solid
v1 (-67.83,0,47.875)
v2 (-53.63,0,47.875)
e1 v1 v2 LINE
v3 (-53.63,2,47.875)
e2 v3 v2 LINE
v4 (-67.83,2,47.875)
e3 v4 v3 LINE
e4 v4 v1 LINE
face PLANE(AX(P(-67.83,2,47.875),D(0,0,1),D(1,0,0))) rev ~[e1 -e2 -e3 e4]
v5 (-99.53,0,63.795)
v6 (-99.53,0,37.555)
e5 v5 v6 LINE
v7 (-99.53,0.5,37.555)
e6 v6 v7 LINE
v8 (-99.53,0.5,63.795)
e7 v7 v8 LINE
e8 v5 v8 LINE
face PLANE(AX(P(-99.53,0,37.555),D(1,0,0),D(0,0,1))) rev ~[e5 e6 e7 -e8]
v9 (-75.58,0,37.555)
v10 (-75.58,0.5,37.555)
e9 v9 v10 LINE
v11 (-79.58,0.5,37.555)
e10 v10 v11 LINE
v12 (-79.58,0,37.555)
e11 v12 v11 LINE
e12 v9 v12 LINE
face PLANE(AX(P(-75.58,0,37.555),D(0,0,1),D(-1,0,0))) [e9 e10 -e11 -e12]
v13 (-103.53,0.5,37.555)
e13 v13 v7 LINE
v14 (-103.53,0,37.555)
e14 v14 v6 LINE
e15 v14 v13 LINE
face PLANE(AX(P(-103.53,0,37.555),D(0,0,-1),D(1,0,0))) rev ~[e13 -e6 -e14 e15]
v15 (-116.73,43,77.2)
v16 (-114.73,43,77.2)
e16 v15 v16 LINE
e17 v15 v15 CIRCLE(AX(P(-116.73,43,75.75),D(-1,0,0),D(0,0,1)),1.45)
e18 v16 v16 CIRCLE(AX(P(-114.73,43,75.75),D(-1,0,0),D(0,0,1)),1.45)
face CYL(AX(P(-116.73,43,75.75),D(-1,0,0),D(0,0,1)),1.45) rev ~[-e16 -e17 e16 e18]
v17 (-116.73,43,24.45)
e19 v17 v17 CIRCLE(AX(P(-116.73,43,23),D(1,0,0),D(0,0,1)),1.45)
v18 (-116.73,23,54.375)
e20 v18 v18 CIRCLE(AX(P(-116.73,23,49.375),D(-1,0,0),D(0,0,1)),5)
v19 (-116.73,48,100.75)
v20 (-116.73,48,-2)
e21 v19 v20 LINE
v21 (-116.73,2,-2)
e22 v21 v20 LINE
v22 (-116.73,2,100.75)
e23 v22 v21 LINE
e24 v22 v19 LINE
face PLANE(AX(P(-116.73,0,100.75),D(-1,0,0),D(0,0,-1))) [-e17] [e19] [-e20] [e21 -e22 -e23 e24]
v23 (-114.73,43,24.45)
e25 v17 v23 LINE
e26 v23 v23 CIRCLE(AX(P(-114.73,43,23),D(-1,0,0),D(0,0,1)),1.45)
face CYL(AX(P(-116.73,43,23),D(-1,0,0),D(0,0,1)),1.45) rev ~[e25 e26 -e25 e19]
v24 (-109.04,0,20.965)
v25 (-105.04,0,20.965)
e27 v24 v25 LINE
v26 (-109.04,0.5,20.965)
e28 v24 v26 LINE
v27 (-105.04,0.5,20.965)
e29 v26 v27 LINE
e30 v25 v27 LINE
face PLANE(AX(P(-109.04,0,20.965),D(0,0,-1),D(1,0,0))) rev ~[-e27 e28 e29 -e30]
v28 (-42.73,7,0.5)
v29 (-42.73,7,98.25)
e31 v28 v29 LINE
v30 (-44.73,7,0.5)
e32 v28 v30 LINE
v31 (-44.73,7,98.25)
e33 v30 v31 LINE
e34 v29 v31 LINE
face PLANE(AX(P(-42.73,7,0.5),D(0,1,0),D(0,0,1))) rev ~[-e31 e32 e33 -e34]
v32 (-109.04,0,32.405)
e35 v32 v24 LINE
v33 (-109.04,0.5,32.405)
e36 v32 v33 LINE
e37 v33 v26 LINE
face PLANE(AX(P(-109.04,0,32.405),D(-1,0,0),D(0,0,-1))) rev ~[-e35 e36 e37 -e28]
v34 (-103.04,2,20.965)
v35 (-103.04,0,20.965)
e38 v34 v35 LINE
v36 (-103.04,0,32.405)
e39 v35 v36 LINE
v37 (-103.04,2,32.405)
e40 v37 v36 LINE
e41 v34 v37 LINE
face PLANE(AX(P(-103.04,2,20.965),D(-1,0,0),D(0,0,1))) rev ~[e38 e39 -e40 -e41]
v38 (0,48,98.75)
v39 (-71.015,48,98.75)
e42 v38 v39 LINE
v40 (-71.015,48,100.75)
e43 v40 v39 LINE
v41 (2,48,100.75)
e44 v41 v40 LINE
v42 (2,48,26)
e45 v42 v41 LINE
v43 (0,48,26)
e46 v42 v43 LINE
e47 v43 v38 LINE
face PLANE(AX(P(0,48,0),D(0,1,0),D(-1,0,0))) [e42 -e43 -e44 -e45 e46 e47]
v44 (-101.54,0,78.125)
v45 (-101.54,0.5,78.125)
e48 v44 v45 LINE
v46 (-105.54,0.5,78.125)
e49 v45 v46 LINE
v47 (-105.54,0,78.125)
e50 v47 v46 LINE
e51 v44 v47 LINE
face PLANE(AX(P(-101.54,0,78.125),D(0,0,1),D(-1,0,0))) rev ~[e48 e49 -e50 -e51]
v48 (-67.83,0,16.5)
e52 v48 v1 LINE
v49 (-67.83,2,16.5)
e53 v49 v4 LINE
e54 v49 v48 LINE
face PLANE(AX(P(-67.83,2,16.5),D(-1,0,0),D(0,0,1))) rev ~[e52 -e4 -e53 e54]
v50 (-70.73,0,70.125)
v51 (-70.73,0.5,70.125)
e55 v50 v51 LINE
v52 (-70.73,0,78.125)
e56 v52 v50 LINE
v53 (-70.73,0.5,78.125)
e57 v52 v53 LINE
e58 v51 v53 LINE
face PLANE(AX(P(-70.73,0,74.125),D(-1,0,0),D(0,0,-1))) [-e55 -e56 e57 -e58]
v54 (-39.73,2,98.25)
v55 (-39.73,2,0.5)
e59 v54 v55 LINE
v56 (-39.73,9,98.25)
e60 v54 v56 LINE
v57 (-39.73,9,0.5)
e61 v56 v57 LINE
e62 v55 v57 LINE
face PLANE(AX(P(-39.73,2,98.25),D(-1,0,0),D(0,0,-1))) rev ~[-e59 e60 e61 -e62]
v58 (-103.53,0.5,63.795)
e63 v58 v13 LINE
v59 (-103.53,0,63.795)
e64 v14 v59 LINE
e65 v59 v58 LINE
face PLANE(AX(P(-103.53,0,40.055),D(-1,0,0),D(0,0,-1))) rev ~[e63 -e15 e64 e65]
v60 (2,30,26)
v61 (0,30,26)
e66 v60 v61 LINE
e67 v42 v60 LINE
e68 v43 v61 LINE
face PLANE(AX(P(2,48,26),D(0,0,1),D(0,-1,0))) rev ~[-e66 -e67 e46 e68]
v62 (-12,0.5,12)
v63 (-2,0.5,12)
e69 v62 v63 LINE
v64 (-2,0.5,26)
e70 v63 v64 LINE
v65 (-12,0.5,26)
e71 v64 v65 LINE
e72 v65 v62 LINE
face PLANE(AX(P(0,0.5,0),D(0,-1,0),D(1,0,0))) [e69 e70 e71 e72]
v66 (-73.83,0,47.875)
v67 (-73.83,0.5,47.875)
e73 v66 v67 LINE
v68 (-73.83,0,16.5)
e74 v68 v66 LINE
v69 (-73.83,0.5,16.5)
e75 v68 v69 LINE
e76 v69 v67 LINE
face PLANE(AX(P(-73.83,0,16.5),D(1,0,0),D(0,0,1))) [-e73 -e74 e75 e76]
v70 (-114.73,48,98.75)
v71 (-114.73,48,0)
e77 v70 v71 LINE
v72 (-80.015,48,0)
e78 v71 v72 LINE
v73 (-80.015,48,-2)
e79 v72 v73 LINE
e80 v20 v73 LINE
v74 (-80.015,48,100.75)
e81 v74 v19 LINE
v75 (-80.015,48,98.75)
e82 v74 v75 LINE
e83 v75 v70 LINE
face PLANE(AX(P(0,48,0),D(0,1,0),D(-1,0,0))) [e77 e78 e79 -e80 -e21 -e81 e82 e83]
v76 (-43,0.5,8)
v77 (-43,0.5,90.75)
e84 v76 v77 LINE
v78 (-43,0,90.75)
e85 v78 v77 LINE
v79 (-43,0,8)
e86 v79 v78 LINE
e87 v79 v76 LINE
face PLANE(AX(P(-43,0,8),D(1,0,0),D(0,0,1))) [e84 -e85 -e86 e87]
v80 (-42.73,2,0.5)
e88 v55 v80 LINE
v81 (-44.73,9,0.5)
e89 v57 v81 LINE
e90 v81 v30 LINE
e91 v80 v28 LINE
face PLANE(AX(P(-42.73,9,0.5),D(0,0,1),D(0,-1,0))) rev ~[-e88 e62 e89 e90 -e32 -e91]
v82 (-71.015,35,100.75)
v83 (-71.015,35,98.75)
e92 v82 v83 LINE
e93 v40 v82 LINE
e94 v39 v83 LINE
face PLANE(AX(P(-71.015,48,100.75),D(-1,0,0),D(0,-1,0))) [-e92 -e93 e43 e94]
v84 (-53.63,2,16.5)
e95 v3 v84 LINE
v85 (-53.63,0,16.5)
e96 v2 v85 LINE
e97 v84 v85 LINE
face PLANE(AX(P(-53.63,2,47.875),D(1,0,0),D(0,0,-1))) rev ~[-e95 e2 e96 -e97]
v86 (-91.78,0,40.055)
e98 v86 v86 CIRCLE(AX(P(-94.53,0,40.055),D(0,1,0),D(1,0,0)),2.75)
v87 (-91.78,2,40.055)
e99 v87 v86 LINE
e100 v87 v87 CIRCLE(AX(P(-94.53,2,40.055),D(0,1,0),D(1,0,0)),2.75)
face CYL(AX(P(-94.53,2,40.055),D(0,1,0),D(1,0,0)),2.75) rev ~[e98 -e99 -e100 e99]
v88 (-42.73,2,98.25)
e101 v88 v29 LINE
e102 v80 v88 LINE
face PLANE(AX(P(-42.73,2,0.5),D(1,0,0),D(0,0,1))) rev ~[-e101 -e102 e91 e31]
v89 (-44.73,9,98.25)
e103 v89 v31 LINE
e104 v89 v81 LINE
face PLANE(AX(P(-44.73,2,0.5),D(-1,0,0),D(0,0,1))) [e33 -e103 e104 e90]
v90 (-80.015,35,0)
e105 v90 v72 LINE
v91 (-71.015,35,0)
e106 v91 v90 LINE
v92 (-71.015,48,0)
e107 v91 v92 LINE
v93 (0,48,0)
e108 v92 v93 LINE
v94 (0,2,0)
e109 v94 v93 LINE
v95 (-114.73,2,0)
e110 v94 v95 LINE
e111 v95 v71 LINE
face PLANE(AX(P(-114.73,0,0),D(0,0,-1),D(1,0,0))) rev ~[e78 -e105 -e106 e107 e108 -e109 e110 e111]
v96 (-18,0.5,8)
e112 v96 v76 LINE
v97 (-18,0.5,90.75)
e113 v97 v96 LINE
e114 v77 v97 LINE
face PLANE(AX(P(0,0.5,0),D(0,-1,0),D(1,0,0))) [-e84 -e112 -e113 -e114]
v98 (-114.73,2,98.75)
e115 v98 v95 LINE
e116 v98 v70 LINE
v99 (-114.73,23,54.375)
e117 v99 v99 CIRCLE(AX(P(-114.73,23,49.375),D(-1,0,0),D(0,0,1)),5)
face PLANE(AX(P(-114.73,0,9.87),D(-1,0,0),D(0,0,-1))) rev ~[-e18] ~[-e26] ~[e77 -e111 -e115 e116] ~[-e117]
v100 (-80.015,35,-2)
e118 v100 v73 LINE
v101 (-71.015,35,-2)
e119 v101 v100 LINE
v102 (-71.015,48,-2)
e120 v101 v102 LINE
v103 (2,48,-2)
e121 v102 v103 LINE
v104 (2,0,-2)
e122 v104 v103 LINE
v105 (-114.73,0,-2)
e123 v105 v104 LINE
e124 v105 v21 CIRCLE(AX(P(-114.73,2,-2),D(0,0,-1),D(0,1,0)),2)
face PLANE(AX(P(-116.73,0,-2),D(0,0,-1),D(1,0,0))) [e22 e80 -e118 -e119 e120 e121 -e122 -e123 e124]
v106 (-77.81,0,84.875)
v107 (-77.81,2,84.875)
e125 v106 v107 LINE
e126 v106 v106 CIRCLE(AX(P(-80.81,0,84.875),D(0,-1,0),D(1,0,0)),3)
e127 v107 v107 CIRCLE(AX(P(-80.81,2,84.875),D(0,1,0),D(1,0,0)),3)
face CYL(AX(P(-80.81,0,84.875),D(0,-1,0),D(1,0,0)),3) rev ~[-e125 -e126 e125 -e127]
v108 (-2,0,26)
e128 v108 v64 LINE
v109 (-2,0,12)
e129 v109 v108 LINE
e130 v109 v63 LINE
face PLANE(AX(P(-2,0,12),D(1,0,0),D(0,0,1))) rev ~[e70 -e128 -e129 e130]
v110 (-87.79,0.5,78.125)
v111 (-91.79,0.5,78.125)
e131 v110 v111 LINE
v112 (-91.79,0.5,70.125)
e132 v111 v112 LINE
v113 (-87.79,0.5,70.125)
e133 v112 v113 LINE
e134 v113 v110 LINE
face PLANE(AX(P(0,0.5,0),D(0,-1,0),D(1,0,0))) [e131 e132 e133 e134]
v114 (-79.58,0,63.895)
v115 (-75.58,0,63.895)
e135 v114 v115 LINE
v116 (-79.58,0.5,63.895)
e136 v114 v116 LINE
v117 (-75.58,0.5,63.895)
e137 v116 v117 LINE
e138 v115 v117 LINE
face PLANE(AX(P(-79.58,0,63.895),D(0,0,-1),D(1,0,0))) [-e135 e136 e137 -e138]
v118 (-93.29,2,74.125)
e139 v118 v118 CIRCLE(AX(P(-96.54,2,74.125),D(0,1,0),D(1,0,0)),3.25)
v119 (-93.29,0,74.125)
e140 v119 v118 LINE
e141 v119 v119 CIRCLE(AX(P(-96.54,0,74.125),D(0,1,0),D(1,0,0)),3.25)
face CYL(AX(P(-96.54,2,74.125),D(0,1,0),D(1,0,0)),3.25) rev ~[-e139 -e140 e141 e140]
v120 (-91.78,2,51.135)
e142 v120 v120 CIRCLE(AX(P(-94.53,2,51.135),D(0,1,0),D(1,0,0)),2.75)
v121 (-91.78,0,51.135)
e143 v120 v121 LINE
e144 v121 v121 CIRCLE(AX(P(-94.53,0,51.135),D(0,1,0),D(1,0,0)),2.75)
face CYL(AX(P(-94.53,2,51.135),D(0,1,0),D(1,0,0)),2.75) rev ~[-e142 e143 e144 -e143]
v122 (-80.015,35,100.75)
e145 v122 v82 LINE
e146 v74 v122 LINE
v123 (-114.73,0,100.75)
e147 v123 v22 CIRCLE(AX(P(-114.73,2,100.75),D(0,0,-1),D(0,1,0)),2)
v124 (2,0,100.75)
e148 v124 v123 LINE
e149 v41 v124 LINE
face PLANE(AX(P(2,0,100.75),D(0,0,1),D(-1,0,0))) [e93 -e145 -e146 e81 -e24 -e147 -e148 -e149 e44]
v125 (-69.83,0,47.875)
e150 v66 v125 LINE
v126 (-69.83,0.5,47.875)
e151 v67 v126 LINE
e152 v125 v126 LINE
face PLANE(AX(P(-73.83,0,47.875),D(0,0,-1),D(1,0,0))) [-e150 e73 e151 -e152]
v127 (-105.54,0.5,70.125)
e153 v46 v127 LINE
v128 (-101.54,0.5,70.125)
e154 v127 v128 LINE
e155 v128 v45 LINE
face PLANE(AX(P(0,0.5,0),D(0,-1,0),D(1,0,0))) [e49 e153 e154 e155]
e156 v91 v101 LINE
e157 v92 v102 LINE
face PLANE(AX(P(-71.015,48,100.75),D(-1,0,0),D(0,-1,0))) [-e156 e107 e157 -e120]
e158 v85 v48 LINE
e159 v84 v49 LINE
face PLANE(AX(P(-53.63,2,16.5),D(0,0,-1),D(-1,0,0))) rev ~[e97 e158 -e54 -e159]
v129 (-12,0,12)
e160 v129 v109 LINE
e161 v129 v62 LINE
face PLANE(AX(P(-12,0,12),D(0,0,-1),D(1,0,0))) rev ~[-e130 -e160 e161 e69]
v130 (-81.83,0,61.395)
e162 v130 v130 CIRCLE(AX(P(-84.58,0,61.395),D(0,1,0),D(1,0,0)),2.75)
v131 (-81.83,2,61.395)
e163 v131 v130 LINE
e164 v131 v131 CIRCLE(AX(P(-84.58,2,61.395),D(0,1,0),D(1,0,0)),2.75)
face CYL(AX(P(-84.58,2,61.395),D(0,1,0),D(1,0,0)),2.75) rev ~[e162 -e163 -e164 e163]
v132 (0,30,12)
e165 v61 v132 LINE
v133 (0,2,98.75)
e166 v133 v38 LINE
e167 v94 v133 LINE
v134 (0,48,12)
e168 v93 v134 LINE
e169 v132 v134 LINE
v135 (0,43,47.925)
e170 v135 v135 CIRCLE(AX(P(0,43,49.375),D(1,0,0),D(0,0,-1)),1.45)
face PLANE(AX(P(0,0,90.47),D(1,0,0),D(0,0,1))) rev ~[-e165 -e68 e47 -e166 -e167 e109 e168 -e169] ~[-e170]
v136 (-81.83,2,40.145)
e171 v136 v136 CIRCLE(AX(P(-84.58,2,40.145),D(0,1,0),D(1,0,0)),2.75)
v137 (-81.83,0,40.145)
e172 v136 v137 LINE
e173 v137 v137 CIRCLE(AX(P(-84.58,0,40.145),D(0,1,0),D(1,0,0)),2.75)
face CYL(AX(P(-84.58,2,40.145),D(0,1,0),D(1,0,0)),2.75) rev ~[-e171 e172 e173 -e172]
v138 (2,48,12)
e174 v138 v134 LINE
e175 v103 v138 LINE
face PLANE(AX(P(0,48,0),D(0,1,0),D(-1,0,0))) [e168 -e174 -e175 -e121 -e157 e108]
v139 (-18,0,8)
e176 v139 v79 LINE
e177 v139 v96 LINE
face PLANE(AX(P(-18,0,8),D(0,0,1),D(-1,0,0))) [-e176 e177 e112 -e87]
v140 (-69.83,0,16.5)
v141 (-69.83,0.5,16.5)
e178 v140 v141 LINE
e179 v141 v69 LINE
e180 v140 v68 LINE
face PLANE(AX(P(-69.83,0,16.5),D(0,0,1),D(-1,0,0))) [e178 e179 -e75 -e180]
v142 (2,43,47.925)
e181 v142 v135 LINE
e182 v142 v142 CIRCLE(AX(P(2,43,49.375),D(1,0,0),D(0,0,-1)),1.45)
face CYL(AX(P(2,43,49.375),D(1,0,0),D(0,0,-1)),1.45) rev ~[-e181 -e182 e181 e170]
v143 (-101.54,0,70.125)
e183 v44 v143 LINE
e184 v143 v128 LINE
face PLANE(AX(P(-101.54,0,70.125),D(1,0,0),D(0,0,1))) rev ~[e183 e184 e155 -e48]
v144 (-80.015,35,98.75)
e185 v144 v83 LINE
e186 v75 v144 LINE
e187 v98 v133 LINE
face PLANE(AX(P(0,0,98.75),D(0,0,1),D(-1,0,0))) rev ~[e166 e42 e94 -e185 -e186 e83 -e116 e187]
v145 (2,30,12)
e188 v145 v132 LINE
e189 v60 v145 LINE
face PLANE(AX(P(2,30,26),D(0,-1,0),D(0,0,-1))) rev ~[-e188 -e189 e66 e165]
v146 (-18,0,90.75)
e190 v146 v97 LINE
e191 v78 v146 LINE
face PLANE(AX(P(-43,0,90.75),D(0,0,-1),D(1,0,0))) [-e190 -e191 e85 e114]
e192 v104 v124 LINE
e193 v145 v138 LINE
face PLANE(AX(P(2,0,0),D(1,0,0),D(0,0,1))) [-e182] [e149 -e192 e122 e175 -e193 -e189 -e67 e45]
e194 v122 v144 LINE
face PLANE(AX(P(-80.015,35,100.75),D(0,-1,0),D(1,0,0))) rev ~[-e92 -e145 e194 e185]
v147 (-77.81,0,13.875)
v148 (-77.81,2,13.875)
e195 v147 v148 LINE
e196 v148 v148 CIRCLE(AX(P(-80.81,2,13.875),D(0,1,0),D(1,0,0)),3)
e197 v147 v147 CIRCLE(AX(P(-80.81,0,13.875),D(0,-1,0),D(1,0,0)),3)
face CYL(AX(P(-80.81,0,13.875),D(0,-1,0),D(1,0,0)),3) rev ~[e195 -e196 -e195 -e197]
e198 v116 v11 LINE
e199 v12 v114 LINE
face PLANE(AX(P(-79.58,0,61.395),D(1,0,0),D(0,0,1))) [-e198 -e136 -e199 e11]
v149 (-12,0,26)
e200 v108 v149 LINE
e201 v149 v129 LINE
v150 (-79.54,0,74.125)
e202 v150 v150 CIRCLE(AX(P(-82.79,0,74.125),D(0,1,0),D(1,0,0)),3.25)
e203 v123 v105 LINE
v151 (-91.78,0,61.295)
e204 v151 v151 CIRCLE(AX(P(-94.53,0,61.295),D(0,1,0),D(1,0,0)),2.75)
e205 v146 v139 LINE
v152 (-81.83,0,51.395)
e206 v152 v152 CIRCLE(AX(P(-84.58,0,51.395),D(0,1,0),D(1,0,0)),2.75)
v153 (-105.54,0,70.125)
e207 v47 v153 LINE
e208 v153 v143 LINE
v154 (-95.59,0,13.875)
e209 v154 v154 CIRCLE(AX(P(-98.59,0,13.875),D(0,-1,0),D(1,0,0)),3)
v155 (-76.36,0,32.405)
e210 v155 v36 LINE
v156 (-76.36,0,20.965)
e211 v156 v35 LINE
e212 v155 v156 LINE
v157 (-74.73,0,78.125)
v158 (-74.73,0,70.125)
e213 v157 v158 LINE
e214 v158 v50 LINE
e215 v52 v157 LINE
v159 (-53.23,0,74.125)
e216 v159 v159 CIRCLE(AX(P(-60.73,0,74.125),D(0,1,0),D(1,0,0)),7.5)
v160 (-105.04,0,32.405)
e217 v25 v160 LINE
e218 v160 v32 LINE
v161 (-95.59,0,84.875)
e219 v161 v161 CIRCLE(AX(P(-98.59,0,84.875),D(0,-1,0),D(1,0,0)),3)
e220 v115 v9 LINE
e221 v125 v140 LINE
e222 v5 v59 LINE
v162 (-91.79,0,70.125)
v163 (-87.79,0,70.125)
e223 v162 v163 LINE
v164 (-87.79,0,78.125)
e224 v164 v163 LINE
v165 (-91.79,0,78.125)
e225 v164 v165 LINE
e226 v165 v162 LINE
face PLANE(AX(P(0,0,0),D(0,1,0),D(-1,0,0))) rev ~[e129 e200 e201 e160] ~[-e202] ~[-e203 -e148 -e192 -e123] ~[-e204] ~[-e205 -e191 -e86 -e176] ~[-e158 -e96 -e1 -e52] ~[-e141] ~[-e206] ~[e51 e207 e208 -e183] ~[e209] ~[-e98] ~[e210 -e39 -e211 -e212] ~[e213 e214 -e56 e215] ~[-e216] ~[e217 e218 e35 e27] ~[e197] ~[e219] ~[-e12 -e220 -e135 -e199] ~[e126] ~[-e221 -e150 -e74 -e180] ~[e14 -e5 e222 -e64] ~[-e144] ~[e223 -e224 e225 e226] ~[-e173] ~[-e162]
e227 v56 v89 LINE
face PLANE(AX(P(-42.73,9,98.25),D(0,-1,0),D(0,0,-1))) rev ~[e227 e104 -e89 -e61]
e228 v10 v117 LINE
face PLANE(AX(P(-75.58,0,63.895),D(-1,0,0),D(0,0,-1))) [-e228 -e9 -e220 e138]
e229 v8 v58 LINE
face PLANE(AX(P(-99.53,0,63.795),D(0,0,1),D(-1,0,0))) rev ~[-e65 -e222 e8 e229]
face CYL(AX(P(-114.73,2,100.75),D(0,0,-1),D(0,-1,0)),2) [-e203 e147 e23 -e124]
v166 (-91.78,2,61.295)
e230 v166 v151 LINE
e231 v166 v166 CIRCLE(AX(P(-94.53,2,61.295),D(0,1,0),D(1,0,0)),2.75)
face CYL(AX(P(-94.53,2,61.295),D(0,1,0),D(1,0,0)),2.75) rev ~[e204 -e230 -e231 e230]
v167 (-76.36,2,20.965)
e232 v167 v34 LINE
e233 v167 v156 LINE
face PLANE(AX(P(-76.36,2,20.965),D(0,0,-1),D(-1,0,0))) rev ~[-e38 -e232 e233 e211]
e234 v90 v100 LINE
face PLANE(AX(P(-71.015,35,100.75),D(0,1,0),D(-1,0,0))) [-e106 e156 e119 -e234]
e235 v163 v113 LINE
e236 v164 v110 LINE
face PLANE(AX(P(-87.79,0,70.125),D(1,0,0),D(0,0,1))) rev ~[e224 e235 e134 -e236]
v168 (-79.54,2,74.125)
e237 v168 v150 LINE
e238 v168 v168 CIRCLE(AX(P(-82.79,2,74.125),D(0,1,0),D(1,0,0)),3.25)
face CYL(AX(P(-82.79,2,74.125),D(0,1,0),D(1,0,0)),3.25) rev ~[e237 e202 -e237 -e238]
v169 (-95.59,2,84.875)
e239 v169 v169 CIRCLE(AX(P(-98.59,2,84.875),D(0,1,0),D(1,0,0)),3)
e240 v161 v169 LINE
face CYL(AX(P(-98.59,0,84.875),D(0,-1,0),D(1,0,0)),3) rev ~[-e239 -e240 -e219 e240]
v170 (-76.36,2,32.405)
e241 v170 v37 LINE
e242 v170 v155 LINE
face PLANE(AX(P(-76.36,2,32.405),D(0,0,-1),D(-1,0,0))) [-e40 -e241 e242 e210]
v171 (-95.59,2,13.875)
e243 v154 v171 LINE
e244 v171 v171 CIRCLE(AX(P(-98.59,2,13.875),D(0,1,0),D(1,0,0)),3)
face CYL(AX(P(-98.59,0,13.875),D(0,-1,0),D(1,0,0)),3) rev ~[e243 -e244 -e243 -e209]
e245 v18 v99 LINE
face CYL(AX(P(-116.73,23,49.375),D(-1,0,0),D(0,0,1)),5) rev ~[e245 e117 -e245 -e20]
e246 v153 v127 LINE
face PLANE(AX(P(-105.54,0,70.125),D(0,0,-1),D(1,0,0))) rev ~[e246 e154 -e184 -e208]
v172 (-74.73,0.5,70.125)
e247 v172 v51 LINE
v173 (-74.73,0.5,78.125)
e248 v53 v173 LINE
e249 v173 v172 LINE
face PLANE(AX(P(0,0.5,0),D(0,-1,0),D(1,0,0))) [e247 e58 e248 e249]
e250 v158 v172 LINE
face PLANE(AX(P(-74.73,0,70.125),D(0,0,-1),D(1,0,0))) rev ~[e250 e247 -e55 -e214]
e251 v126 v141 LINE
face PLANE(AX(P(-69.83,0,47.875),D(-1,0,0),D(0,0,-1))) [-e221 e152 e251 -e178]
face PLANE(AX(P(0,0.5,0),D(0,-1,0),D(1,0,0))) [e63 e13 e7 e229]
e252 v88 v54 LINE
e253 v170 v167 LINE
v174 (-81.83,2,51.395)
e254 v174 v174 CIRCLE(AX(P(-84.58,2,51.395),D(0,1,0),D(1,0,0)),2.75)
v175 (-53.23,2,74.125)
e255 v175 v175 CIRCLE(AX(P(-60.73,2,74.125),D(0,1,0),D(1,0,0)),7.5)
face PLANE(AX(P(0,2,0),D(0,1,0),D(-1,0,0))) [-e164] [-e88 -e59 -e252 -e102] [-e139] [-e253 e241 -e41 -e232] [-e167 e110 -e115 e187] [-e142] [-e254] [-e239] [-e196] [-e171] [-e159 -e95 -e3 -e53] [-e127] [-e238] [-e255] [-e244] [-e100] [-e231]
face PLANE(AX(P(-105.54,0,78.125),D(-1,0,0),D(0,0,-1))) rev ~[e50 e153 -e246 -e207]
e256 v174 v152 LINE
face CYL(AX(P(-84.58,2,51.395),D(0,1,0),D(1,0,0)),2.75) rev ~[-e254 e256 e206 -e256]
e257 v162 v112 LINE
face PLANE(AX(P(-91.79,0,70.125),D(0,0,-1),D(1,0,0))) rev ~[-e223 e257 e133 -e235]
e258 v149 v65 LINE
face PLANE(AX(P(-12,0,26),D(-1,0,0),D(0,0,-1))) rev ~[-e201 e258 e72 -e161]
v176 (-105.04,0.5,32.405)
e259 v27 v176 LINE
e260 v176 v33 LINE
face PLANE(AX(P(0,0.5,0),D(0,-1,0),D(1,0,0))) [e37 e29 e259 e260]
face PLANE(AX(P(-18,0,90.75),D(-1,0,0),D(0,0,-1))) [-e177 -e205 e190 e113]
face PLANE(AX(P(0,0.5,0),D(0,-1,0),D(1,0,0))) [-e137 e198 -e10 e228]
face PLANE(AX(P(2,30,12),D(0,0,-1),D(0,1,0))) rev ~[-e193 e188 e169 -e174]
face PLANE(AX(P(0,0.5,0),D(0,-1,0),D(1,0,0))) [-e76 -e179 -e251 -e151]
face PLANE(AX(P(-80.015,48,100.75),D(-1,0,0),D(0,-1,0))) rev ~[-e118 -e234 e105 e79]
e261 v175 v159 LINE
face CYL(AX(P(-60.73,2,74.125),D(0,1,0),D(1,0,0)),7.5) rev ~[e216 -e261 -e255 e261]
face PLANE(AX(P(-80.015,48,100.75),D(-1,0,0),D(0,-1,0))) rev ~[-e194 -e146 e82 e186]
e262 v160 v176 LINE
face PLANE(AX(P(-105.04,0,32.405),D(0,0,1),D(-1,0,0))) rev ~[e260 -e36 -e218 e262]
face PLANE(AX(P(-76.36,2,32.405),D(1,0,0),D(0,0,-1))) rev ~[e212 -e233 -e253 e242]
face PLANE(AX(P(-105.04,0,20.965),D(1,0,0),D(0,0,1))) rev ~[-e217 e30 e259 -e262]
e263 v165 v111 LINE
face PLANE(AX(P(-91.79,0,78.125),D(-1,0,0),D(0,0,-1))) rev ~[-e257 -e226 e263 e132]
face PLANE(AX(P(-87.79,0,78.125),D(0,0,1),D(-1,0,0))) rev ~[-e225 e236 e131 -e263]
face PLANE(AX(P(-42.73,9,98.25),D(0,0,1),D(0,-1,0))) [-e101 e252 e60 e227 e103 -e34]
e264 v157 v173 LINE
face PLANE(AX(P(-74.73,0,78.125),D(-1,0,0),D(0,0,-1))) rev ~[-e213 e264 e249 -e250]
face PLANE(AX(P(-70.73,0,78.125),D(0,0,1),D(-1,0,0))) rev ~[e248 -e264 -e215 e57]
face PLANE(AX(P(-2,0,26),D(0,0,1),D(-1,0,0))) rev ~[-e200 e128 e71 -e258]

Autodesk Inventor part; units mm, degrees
ref_plane "YZ Plane" through (0, 0, 0) normal (1, 0, 0) x (0, 1, 0)
ref_plane "XZ Plane" through (0, 0, 0) normal (0, 1, 0) x (-1, 0, 0)
ref_plane "XY Plane" through (0, 0, 0) normal (0, 0, 1) x (1, 0, 0)
sketch "Sketch1" plane through (0, 0, 0) normal (0, 1, 0) x (-1, 0, 0)
  line L0 (0, 0) -> (0, 98.75)
  line L1 (0, 98.75) -> (114.73, 98.75)
  line L2 (114.73, 98.75) -> (114.73, 0)
  line L3 (114.73, 0) -> (0, 0)
  line L4 (0, 98.75) -> (0, 90.47)
  line L5 (0, 0) -> (0, 6.72)
  line L6 (114.73, 0) -> (114.73, 9.87)
  line L7 (-2, 0) -> (-2, 98.75)
  line L8 (-2, 98.75) -> (-2, 100.75)
  line L9 (-2, 100.75) -> (114.73, 100.75)
  line L10 (114.73, 100.75) -> (116.73, 100.75)
  line L11 (116.73, 100.75) -> (116.73, 0)
  line L12 (116.73, 0) -> (116.73, -2)
  line L13 (116.73, -2) -> (-2, -2)
  line L14 (-2, -2) -> (-2, 0)
  dimension "d11" = 2
  dimension "d12" = 2
  dimension "d13" = 2
  dimension "d14" = 2
extrude "Extrusion1" add sketch "Sketch1" along normal blind 2 contours L0 L1 L2 L3 | L7 L8 L9 L10 L11 L12 L13 L14
extrude "Extrusion9" add sketch "Sketch1" along normal blind 48
sketch "Sketch11" plane through (0, 2, 0) normal (0, 1, 0) x (1, 0, 0)
  circle A0 centre (-60.73, -74.125) radius 3.75 projected
  line L0 (-68.73, -5.5) -> (-68.73, -51.875) projected
  line L1 (-68.73, -5.5) -> (-52.73, -5.5) projected
  line L2 (-68.73, -51.875) -> (-52.73, -51.875) projected
  line L3 (-52.73, -51.875) -> (-52.73, -5.5) projected
  line L4 (-68.53, -92.03) -> (-68.53, -66.625) projected
  line L5 (-68.53, -66.625) -> (-53.65, -66.625) projected
  line L6 (-53.65, -66.625) -> (-53.65, -92.03) projected
  line L7 (-53.65, -92.03) -> (-45.73, -92.03) projected
  line L8 (-45.73, -92.03) -> (-45.73, -5.5) projected
  line L9 (-48.73, -5.5) -> (-45.73, -5.5) projected
  line L10 (-48.73, -5.5) -> (-48.73, -55.875) projected
  line L11 (-48.73, -55.875) -> (-72.73, -55.875) projected
  line L12 (-72.73, -55.875) -> (-72.73, -5.5) projected
  line L13 (-75.73, -5.5) -> (-72.73, -5.5) projected
  line L14 (-75.73, -5.5) -> (-75.73, -17.875) projected
  line L15 (-75.73, -17.875) -> (-85.89, -17.875) projected
  line L16 (-85.89, -17.875) -> (-85.89, -5.5) projected
  line L17 (-85.89, -5.5) -> (-93.51, -5.5) projected
  line L18 (-93.51, -5.5) -> (-93.51, -17.875) projected
  line L19 (-93.51, -17.875) -> (-103.67, -17.875) projected
  line L20 (-103.67, -17.875) -> (-103.67, -5.5) projected
  line L21 (-111.73, -5.5) -> (-103.67, -5.5) projected
  line L22 (-111.73, -5.5) -> (-111.73, -93.25) projected
  line L23 (-111.73, -93.25) -> (-103.67, -93.25) projected
  line L24 (-103.67, -93.25) -> (-103.67, -80.875) projected
  line L25 (-103.67, -80.875) -> (-93.51, -80.875) projected
  line L26 (-93.51, -80.875) -> (-93.51, -92.03) projected
  line L27 (-93.51, -92.03) -> (-85.89, -92.03) projected
  line L28 (-85.89, -92.03) -> (-85.89, -80.875) projected
  line L29 (-85.89, -80.875) -> (-75.73, -80.875) projected
  line L30 (-75.73, -80.875) -> (-75.73, -92.03) projected
  line L31 (-75.73, -92.03) -> (-68.53, -92.03) projected
  line L32 (-56.73, -92.03) -> (-56.73, -81.625) projected
  line L33 (-56.73, -81.625) -> (-64.73, -81.625) projected
  line L34 (-64.73, -81.625) -> (-64.73, -92.03) projected
  line L35 (-64.73, -92.03) -> (-56.73, -92.03) projected
  circle A1 centre (-98.59, -84.875) radius 1.65 projected
  circle A2 centre (-80.81, -84.875) radius 1.65 projected
  circle A3 centre (-60.73, -74.125) radius 3.75 projected
  line L36 (-114.73, -98.25) -> (-114.73, -0.5) projected
  line L37 (-114.73, -0.5) -> (-42.73, -0.5) projected
  line L38 (-42.73, -0.5) -> (-42.73, -98.25) projected
  line L39 (-114.73, -98.25) -> (-42.73, -98.25) projected
  circle A4 centre (-70.73, -23.875) radius 1 projected
  circle A5 centre (-50.73, -23.875) radius 1 projected
  circle A6 centre (-60.73, -53.875) radius 1 projected
  circle A7 centre (-80.81, -13.875) radius 1.65 projected
  circle A8 centre (-98.59, -13.875) radius 1.65 projected
  line L40 (-68.73, -5.5) -> (-68.73, -51.875) projected
  line L41 (-68.73, -51.875) -> (-52.73, -51.875) projected
  line L42 (-52.73, -51.875) -> (-52.73, -5.5) projected
  line L43 (-68.73, -5.5) -> (-52.73, -5.5) projected
  circle A9 centre (-60.73, -74.125) radius 7.5
  line L44 (-67.83, -47.875) -> (-53.63, -47.875)
  line L45 (-67.83, -16.5) -> (-67.83, -47.875)
  line L46 (-53.63, -47.875) -> (-53.63, -16.5)
  line L47 (-53.63, -16.5) -> (-67.83, -16.5)
  line L48 (-42.73, -98.25) -> (-39.73, -98.25)
  line L49 (-39.73, -98.25) -> (-39.73, -0.5)
  line L50 (-39.73, -0.5) -> (-42.73, -0.5)
  line L51 (-42.73, -0.5) -> (-42.73, -98.25)
  circle A10 centre (-96.54, -74.125) radius 3.25
  circle A11 centre (-84.58, -61.395) radius 2.75
  circle A12 centre (-94.53, -61.295) radius 2.75
  circle A13 centre (-94.53, -51.135) radius 2.75
  circle A14 centre (-84.58, -51.395) radius 2.75
  circle A15 centre (-94.53, -40.055) radius 2.75
  circle A16 centre (-84.58, -40.145) radius 2.75
  line L52 (-76.36, -32.405) -> (-103.04, -32.405)
  line L53 (-76.36, -32.405) -> (-76.36, -20.965)
  line L54 (-76.36, -20.965) -> (-103.04, -20.965)
  line L55 (-103.04, -20.965) -> (-103.04, -32.405)
  circle A17 centre (-98.59, -84.875) radius 3
  circle A18 centre (-80.81, -84.875) radius 3
  circle A19 centre (-98.59, -13.875) radius 3
  circle A20 centre (-80.81, -13.875) radius 3
  circle A21 centre (-82.79, -74.125) radius 3.25
  point P0 (0, 0)
  dimension "d49" = 15
  dimension "d56" = 3
  dimension "d109" = 11.44
  dimension "d127" = 6
  dimension "d128" = 6
  dimension "d129" = 6
  dimension "d130" = 6
  dimension "d191" = 6.5
extrude "Extrusion10" cut sketch "Sketch11" against normal blind 10 contours A0 | A9 L6 | A9 L6 | L45 L47 L46 L44
extrude "Extrusion11" add sketch "Sketch11" along normal blind 7 contours L38 L50 L49 L48
sketch "Sketch12" plane through (-42.73, 2, 0.5) normal (-1, 0, 0) x (0, 0, 1)
  line L0 (97.75, 7) -> (97.75, 5)
  line L1 (97.75, 0) -> (97.75, 7) projected
  line L2 (97.75, 7) -> (0, 7) projected
  line L3 (0, 7) -> (0, 5)
  line L4 (0, 0) -> (0, 7) projected
  line L5 (0, 5) -> (97.75, 5)
  line L6 (97.75, 7) -> (0, 7)
  point P0 (-0.5, -2)
  dimension "d61" = 2
  dimension "d62" = 2
extrude "Extrusion12" add sketch "Sketch12" along normal blind 2
extrude "Extrusion13" cut sketch "Sketch11" against normal blind 5 contours A1 | A2 | A7 | A8 | A10 | A11 | A12 | A13 | A14 | A15 | A16 | A21
extrude "Extrusion14" cut sketch "Sketch11" against normal blind 5 contours L52 L55 L54 L53
sketch "Sketch13" plane through (2, 0, 100.75) normal (1, 0, 0) x (0, 0, -1)
  line L0 (88.25, 41) -> (88.75, 41)
  line L1 (88.75, 41) -> (88.75, 48)
  line L2 (88.75, 48) -> (74.75, 48)
  line L3 (74.75, 48) -> (74.75, 41)
  line L4 (74.75, 41) -> (74.75, 30)
  line L5 (74.75, 30) -> (88.5, 30)
  line L6 (88.5, 30) -> (88.75, 30)
  line L7 (88.75, 30) -> (88.75, 41)
  point P0 (100.75, 0)
  point P1 (102.75, 48)
  dimension "d116" = 0.5
  dimension "d118" = 11
extrude "Extrusion15" cut sketch "Sketch13" against normal blind 5
sketch "Sketch14" plane through (-116.73, 0, 100.75) normal (0, 0, 1) x (1, 0, 0)
  line L0 (0, 0) -> (0, 48) projected
  line L1 (0, 48) -> (2, 48)
  line L2 (2, 48) -> (36, 48)
  line L3 (2, 48) -> (116.73, 48) projected
  line L4 (36, 48) -> (45, 48)
  line L5 (36, 48) -> (36.715, 48)
  line L6 (0, 48) -> (118.73, 48) projected
  line L7 (36.715, 48) -> (36.715, 35)
  line L8 (45, 48) -> (45.715, 48)
  line L9 (45.715, 48) -> (45.715, 35)
  line L10 (45.715, 35) -> (45, 35)
  line L11 (36.715, 35) -> (45, 35)
  point P0 (116.73, 0)
  dimension "d121" = 2
  dimension "d122" = 34
  dimension "d123" = 9
  dimension "d124" = 13
  dimension "d196" = 0.715
  dimension "d197" = 0.715
extrude "Extrusion16" cut sketch "Sketch14" against normal blind 120
extrude "Extrusion17" add sketch "Sketch11" along normal blind 2 contours A17 | A18 | A19 | A20
sketch "Sketch15" plane through (0, 0, 0) normal (0, -1, 0) x (1, 0, 0)
  line L0 (-2, 12) -> (-2, 26)
  line L1 (-2, 26) -> (-12, 26)
  line L2 (-12, 26) -> (-12, 12)
  line L3 (-12, 12) -> (-2, 12)
  point P0 (0, 0)
  point P1 (2, 12)
  dimension "d134" = 10
extrude "Extrusion18" cut sketch "Sketch15" against normal blind 0.5
sketch "Sketch16" plane through (-116.73, 0, -2) normal (-1, 0, 0) x (0, 0, 1)
  line L0 (2, 48) -> (0, 48) projected
  line L1 (0, 48) -> (20, 48)
  line L2 (100.75, 48) -> (2, 48) projected
  line L3 (20, 48) -> (20, 43)
  line L4 (20, 43) -> (30, 43)
  line L5 (30, 43) -> (25, 43)
  circle A0 centre (25, 43) radius 1.45
  line L6 (102.75, 48) -> (82.75, 48)
  line L7 (28, 48) -> (100.75, 48) projected
  line L8 (82.75, 48) -> (82.75, 43)
  line L9 (82.75, 43) -> (77.75, 43)
  circle A1 centre (77.75, 43) radius 1.45
  point P0 (2, 0)
  dimension "d137" = 20
  dimension "d138" = 5
  dimension "d139" = 10
  dimension "d140" = 2.9
  dimension "d141" = 20
  dimension "d142" = 5
  dimension "d143" = 5
  dimension "d144" = 2.9
extrude "Extrusion19" cut sketch "Sketch16" against normal blind 3
sketch "Sketch17" plane through (2, 0, 100.75) normal (1, 0, 0) x (0, 0, -1)
  circle A0 centre (51.375, 43) radius 1.45
  point P0 (100.75, 0)
  point P1 (0, 48)
extrude "Extrusion20" cut sketch "Sketch17" against normal blind 3
sketch "Sketch18" plane through (0, 0, 0) normal (0, -1, 0) x (1, 0, 0)
  line L0 (-99.53, 40.055) -> (-99.53, 61.295)
  line L1 (-99.53, 61.295) -> (-99.53, 63.795)
  line L2 (-99.53, 63.795) -> (-103.53, 63.795)
  line L3 (-103.53, 63.795) -> (-103.53, 40.055)
  line L4 (-103.53, 40.055) -> (-103.53, 37.555)
  line L5 (-103.53, 37.555) -> (-99.53, 37.555)
  line L6 (-99.53, 37.555) -> (-99.53, 40.055)
  line L7 (-79.58, 61.395) -> (-79.58, 63.895)
  line L8 (-79.58, 63.895) -> (-75.58, 63.895)
  line L9 (-75.58, 63.895) -> (-75.58, 40.055)
  line L10 (-75.58, 40.055) -> (-75.58, 37.555)
  line L11 (-75.58, 37.555) -> (-79.58, 37.555)
  line L12 (-79.58, 37.555) -> (-79.58, 63.895)
  line L13 (-103.04, 20.965) -> (-76.36, 20.965) projected
  line L14 (-103.04, 20.965) -> (-105.04, 20.965)
  line L15 (-105.04, 20.965) -> (-105.04, 32.405)
  line L16 (-103.04, 32.405) -> (-76.36, 32.405) projected
  line L17 (-105.04, 32.405) -> (-109.04, 32.405)
  line L18 (-109.04, 32.405) -> (-109.04, 20.965)
  line L19 (-109.04, 20.965) -> (-105.04, 20.965)
  circle A0 centre (-96.54, 74.125) radius 3.25 projected
  line L20 (-96.54, 74.125) -> (-101.54, 74.125)
  line L21 (-101.54, 74.125) -> (-101.54, 78.125)
  line L22 (-101.54, 78.125) -> (-105.54, 78.125)
  line L23 (-105.54, 78.125) -> (-105.54, 70.125)
  line L24 (-105.54, 70.125) -> (-101.54, 70.125)
  line L25 (-101.54, 70.125) -> (-101.54, 74.125)
  line L26 (-70.73, 74.125) -> (-70.73, 78.125)
  line L27 (-70.73, 78.125) -> (-74.73, 78.125)
  line L28 (-74.73, 78.125) -> (-74.73, 70.125)
  line L29 (-74.73, 70.125) -> (-70.73, 70.125)
  line L30 (-70.73, 74.125) -> (-70.73, 70.125)
  line L31 (-69.83, 47.875) -> (-69.83, 16.5)
  line L32 (-69.83, 16.5) -> (-73.83, 16.5)
  line L33 (-73.83, 16.5) -> (-73.83, 47.875)
  line L34 (-73.83, 47.875) -> (-69.83, 47.875)
  circle A1 centre (-82.79, 74.125) radius 3.25 projected
  line L35 (-82.79, 74.125) -> (-87.79, 74.125)
  line L36 (-87.79, 74.125) -> (-87.79, 78.125)
  line L37 (-87.79, 78.125) -> (-91.79, 78.125)
  line L38 (-91.79, 78.125) -> (-91.79, 70.125)
  line L39 (-91.79, 70.125) -> (-87.79, 70.125)
  line L40 (-87.79, 70.125) -> (-87.79, 74.125)
  point P0 (0, 0)
  point P1 (-94.53, 40.055)
  point P2 (-84.58, 61.395)
  point P3 (-85.81, 74.125)
  point P4 (-85.81, 78.125)
  point P5 (-89.81, 78.125)
  point P6 (-89.81, 70.125)
  point P7 (-85.81, 70.125)
  point P8 (-67.83, 47.875)
  dimension "d153" = 2.5
  dimension "d154" = 4
  dimension "d155" = 2.5
  dimension "d157" = 2.5
  dimension "d158" = 4
  dimension "d159" = 2.5
  dimension "d160" = 4
  dimension "d161" = 2
  dimension "d162" = 4
  dimension "d163" = 5
  dimension "d164" = 4
  dimension "d165" = 4
  dimension "d166" = 8
  dimension "d171" = 4
  dimension "d172" = 4
  dimension "d173" = 8
  dimension "d175" = 4
  dimension "d198" = 5
  dimension "d199" = 4
  dimension "d200" = 8
extrude "Extrusion21" cut sketch "Sketch18" against normal blind 0.5 contours L6 L5 L4 L3 L2 L1 L0 | L7 L8 L9 L10 L11 L12 | L19 L18 L17 L15 | A0 | L25 L24 L23 L22 L21 | L30 L29 L28 L27 L26 | L31 L32 L33 L34 | L40 L39 L38 L37 L36
sketch "Sketch19" plane through (0, 0, 0) normal (0, -1, 0) x (1, 0, 0)
  line L0 (-116.73, -2) -> (2, -2) projected
  line L1 (2, -2) -> (2, 8)
  line L2 (2, -2) -> (2, 100.75) projected
  line L3 (2, 8) -> (-18, 8)
  line L4 (2, 100.75) -> (2, 90.75)
  line L5 (2, 90.75) -> (-18, 90.75)
  line L6 (-18, 90.75) -> (-18, 8)
  line L7 (-18, 8) -> (-43, 8)
  line L8 (-43, 8) -> (-43, 90.75)
  line L9 (-43, 90.75) -> (-18, 90.75)
  point P0 (0, 0)
  dimension "d178" = 10
  dimension "d179" = 20
  dimension "d180" = 10
  dimension "d181" = 20
  dimension "d182" = 25
extrude "Extrusion22" cut sketch "Sketch19" against normal blind 0.5 contours L7 L8 L9 L6
fillet "Fillet1" radius 2 1 edges at (-116.73, 0, 49.375)
sketch "Sketch20" plane through (-116.73, 48, -2) normal (-1, 0, 0) x (0, 0, 1)
  line L0 (100.75, 0) -> (2, 0) projected
  circle A0 centre (51.375, -25) radius 5
  point P0 (2, -48)
  dimension "d187" = 10
extrude "Extrusion23" cut sketch "Sketch20" against normal blind 5
sketch "Sketch21" plane through (0, 0, 0) normal (0, -1, 0) x (1, 0, 0)
  circle A0 centre (-98.59, 13.875) radius 1.65 projected
  circle A1 centre (-98.59, 13.875) radius 3
  circle A2 centre (-80.81, 13.875) radius 1.65 projected
  circle A3 centre (-80.81, 13.875) radius 3
  circle A4 centre (-80.81, 84.875) radius 3 projected
  circle A5 centre (-80.81, 84.875) radius 3
  circle A6 centre (-98.59, 84.875) radius 1.65 projected
  circle A7 centre (-98.59, 84.875) radius 3
  point P0 (0, 0)
  dimension "d201" = 6
  dimension "d202" = 6
  dimension "d203" = 6
  dimension "d204" = 6
extrude "Extrusion24" cut sketch "Sketch21" against normal blind 10
properties part number "case"
